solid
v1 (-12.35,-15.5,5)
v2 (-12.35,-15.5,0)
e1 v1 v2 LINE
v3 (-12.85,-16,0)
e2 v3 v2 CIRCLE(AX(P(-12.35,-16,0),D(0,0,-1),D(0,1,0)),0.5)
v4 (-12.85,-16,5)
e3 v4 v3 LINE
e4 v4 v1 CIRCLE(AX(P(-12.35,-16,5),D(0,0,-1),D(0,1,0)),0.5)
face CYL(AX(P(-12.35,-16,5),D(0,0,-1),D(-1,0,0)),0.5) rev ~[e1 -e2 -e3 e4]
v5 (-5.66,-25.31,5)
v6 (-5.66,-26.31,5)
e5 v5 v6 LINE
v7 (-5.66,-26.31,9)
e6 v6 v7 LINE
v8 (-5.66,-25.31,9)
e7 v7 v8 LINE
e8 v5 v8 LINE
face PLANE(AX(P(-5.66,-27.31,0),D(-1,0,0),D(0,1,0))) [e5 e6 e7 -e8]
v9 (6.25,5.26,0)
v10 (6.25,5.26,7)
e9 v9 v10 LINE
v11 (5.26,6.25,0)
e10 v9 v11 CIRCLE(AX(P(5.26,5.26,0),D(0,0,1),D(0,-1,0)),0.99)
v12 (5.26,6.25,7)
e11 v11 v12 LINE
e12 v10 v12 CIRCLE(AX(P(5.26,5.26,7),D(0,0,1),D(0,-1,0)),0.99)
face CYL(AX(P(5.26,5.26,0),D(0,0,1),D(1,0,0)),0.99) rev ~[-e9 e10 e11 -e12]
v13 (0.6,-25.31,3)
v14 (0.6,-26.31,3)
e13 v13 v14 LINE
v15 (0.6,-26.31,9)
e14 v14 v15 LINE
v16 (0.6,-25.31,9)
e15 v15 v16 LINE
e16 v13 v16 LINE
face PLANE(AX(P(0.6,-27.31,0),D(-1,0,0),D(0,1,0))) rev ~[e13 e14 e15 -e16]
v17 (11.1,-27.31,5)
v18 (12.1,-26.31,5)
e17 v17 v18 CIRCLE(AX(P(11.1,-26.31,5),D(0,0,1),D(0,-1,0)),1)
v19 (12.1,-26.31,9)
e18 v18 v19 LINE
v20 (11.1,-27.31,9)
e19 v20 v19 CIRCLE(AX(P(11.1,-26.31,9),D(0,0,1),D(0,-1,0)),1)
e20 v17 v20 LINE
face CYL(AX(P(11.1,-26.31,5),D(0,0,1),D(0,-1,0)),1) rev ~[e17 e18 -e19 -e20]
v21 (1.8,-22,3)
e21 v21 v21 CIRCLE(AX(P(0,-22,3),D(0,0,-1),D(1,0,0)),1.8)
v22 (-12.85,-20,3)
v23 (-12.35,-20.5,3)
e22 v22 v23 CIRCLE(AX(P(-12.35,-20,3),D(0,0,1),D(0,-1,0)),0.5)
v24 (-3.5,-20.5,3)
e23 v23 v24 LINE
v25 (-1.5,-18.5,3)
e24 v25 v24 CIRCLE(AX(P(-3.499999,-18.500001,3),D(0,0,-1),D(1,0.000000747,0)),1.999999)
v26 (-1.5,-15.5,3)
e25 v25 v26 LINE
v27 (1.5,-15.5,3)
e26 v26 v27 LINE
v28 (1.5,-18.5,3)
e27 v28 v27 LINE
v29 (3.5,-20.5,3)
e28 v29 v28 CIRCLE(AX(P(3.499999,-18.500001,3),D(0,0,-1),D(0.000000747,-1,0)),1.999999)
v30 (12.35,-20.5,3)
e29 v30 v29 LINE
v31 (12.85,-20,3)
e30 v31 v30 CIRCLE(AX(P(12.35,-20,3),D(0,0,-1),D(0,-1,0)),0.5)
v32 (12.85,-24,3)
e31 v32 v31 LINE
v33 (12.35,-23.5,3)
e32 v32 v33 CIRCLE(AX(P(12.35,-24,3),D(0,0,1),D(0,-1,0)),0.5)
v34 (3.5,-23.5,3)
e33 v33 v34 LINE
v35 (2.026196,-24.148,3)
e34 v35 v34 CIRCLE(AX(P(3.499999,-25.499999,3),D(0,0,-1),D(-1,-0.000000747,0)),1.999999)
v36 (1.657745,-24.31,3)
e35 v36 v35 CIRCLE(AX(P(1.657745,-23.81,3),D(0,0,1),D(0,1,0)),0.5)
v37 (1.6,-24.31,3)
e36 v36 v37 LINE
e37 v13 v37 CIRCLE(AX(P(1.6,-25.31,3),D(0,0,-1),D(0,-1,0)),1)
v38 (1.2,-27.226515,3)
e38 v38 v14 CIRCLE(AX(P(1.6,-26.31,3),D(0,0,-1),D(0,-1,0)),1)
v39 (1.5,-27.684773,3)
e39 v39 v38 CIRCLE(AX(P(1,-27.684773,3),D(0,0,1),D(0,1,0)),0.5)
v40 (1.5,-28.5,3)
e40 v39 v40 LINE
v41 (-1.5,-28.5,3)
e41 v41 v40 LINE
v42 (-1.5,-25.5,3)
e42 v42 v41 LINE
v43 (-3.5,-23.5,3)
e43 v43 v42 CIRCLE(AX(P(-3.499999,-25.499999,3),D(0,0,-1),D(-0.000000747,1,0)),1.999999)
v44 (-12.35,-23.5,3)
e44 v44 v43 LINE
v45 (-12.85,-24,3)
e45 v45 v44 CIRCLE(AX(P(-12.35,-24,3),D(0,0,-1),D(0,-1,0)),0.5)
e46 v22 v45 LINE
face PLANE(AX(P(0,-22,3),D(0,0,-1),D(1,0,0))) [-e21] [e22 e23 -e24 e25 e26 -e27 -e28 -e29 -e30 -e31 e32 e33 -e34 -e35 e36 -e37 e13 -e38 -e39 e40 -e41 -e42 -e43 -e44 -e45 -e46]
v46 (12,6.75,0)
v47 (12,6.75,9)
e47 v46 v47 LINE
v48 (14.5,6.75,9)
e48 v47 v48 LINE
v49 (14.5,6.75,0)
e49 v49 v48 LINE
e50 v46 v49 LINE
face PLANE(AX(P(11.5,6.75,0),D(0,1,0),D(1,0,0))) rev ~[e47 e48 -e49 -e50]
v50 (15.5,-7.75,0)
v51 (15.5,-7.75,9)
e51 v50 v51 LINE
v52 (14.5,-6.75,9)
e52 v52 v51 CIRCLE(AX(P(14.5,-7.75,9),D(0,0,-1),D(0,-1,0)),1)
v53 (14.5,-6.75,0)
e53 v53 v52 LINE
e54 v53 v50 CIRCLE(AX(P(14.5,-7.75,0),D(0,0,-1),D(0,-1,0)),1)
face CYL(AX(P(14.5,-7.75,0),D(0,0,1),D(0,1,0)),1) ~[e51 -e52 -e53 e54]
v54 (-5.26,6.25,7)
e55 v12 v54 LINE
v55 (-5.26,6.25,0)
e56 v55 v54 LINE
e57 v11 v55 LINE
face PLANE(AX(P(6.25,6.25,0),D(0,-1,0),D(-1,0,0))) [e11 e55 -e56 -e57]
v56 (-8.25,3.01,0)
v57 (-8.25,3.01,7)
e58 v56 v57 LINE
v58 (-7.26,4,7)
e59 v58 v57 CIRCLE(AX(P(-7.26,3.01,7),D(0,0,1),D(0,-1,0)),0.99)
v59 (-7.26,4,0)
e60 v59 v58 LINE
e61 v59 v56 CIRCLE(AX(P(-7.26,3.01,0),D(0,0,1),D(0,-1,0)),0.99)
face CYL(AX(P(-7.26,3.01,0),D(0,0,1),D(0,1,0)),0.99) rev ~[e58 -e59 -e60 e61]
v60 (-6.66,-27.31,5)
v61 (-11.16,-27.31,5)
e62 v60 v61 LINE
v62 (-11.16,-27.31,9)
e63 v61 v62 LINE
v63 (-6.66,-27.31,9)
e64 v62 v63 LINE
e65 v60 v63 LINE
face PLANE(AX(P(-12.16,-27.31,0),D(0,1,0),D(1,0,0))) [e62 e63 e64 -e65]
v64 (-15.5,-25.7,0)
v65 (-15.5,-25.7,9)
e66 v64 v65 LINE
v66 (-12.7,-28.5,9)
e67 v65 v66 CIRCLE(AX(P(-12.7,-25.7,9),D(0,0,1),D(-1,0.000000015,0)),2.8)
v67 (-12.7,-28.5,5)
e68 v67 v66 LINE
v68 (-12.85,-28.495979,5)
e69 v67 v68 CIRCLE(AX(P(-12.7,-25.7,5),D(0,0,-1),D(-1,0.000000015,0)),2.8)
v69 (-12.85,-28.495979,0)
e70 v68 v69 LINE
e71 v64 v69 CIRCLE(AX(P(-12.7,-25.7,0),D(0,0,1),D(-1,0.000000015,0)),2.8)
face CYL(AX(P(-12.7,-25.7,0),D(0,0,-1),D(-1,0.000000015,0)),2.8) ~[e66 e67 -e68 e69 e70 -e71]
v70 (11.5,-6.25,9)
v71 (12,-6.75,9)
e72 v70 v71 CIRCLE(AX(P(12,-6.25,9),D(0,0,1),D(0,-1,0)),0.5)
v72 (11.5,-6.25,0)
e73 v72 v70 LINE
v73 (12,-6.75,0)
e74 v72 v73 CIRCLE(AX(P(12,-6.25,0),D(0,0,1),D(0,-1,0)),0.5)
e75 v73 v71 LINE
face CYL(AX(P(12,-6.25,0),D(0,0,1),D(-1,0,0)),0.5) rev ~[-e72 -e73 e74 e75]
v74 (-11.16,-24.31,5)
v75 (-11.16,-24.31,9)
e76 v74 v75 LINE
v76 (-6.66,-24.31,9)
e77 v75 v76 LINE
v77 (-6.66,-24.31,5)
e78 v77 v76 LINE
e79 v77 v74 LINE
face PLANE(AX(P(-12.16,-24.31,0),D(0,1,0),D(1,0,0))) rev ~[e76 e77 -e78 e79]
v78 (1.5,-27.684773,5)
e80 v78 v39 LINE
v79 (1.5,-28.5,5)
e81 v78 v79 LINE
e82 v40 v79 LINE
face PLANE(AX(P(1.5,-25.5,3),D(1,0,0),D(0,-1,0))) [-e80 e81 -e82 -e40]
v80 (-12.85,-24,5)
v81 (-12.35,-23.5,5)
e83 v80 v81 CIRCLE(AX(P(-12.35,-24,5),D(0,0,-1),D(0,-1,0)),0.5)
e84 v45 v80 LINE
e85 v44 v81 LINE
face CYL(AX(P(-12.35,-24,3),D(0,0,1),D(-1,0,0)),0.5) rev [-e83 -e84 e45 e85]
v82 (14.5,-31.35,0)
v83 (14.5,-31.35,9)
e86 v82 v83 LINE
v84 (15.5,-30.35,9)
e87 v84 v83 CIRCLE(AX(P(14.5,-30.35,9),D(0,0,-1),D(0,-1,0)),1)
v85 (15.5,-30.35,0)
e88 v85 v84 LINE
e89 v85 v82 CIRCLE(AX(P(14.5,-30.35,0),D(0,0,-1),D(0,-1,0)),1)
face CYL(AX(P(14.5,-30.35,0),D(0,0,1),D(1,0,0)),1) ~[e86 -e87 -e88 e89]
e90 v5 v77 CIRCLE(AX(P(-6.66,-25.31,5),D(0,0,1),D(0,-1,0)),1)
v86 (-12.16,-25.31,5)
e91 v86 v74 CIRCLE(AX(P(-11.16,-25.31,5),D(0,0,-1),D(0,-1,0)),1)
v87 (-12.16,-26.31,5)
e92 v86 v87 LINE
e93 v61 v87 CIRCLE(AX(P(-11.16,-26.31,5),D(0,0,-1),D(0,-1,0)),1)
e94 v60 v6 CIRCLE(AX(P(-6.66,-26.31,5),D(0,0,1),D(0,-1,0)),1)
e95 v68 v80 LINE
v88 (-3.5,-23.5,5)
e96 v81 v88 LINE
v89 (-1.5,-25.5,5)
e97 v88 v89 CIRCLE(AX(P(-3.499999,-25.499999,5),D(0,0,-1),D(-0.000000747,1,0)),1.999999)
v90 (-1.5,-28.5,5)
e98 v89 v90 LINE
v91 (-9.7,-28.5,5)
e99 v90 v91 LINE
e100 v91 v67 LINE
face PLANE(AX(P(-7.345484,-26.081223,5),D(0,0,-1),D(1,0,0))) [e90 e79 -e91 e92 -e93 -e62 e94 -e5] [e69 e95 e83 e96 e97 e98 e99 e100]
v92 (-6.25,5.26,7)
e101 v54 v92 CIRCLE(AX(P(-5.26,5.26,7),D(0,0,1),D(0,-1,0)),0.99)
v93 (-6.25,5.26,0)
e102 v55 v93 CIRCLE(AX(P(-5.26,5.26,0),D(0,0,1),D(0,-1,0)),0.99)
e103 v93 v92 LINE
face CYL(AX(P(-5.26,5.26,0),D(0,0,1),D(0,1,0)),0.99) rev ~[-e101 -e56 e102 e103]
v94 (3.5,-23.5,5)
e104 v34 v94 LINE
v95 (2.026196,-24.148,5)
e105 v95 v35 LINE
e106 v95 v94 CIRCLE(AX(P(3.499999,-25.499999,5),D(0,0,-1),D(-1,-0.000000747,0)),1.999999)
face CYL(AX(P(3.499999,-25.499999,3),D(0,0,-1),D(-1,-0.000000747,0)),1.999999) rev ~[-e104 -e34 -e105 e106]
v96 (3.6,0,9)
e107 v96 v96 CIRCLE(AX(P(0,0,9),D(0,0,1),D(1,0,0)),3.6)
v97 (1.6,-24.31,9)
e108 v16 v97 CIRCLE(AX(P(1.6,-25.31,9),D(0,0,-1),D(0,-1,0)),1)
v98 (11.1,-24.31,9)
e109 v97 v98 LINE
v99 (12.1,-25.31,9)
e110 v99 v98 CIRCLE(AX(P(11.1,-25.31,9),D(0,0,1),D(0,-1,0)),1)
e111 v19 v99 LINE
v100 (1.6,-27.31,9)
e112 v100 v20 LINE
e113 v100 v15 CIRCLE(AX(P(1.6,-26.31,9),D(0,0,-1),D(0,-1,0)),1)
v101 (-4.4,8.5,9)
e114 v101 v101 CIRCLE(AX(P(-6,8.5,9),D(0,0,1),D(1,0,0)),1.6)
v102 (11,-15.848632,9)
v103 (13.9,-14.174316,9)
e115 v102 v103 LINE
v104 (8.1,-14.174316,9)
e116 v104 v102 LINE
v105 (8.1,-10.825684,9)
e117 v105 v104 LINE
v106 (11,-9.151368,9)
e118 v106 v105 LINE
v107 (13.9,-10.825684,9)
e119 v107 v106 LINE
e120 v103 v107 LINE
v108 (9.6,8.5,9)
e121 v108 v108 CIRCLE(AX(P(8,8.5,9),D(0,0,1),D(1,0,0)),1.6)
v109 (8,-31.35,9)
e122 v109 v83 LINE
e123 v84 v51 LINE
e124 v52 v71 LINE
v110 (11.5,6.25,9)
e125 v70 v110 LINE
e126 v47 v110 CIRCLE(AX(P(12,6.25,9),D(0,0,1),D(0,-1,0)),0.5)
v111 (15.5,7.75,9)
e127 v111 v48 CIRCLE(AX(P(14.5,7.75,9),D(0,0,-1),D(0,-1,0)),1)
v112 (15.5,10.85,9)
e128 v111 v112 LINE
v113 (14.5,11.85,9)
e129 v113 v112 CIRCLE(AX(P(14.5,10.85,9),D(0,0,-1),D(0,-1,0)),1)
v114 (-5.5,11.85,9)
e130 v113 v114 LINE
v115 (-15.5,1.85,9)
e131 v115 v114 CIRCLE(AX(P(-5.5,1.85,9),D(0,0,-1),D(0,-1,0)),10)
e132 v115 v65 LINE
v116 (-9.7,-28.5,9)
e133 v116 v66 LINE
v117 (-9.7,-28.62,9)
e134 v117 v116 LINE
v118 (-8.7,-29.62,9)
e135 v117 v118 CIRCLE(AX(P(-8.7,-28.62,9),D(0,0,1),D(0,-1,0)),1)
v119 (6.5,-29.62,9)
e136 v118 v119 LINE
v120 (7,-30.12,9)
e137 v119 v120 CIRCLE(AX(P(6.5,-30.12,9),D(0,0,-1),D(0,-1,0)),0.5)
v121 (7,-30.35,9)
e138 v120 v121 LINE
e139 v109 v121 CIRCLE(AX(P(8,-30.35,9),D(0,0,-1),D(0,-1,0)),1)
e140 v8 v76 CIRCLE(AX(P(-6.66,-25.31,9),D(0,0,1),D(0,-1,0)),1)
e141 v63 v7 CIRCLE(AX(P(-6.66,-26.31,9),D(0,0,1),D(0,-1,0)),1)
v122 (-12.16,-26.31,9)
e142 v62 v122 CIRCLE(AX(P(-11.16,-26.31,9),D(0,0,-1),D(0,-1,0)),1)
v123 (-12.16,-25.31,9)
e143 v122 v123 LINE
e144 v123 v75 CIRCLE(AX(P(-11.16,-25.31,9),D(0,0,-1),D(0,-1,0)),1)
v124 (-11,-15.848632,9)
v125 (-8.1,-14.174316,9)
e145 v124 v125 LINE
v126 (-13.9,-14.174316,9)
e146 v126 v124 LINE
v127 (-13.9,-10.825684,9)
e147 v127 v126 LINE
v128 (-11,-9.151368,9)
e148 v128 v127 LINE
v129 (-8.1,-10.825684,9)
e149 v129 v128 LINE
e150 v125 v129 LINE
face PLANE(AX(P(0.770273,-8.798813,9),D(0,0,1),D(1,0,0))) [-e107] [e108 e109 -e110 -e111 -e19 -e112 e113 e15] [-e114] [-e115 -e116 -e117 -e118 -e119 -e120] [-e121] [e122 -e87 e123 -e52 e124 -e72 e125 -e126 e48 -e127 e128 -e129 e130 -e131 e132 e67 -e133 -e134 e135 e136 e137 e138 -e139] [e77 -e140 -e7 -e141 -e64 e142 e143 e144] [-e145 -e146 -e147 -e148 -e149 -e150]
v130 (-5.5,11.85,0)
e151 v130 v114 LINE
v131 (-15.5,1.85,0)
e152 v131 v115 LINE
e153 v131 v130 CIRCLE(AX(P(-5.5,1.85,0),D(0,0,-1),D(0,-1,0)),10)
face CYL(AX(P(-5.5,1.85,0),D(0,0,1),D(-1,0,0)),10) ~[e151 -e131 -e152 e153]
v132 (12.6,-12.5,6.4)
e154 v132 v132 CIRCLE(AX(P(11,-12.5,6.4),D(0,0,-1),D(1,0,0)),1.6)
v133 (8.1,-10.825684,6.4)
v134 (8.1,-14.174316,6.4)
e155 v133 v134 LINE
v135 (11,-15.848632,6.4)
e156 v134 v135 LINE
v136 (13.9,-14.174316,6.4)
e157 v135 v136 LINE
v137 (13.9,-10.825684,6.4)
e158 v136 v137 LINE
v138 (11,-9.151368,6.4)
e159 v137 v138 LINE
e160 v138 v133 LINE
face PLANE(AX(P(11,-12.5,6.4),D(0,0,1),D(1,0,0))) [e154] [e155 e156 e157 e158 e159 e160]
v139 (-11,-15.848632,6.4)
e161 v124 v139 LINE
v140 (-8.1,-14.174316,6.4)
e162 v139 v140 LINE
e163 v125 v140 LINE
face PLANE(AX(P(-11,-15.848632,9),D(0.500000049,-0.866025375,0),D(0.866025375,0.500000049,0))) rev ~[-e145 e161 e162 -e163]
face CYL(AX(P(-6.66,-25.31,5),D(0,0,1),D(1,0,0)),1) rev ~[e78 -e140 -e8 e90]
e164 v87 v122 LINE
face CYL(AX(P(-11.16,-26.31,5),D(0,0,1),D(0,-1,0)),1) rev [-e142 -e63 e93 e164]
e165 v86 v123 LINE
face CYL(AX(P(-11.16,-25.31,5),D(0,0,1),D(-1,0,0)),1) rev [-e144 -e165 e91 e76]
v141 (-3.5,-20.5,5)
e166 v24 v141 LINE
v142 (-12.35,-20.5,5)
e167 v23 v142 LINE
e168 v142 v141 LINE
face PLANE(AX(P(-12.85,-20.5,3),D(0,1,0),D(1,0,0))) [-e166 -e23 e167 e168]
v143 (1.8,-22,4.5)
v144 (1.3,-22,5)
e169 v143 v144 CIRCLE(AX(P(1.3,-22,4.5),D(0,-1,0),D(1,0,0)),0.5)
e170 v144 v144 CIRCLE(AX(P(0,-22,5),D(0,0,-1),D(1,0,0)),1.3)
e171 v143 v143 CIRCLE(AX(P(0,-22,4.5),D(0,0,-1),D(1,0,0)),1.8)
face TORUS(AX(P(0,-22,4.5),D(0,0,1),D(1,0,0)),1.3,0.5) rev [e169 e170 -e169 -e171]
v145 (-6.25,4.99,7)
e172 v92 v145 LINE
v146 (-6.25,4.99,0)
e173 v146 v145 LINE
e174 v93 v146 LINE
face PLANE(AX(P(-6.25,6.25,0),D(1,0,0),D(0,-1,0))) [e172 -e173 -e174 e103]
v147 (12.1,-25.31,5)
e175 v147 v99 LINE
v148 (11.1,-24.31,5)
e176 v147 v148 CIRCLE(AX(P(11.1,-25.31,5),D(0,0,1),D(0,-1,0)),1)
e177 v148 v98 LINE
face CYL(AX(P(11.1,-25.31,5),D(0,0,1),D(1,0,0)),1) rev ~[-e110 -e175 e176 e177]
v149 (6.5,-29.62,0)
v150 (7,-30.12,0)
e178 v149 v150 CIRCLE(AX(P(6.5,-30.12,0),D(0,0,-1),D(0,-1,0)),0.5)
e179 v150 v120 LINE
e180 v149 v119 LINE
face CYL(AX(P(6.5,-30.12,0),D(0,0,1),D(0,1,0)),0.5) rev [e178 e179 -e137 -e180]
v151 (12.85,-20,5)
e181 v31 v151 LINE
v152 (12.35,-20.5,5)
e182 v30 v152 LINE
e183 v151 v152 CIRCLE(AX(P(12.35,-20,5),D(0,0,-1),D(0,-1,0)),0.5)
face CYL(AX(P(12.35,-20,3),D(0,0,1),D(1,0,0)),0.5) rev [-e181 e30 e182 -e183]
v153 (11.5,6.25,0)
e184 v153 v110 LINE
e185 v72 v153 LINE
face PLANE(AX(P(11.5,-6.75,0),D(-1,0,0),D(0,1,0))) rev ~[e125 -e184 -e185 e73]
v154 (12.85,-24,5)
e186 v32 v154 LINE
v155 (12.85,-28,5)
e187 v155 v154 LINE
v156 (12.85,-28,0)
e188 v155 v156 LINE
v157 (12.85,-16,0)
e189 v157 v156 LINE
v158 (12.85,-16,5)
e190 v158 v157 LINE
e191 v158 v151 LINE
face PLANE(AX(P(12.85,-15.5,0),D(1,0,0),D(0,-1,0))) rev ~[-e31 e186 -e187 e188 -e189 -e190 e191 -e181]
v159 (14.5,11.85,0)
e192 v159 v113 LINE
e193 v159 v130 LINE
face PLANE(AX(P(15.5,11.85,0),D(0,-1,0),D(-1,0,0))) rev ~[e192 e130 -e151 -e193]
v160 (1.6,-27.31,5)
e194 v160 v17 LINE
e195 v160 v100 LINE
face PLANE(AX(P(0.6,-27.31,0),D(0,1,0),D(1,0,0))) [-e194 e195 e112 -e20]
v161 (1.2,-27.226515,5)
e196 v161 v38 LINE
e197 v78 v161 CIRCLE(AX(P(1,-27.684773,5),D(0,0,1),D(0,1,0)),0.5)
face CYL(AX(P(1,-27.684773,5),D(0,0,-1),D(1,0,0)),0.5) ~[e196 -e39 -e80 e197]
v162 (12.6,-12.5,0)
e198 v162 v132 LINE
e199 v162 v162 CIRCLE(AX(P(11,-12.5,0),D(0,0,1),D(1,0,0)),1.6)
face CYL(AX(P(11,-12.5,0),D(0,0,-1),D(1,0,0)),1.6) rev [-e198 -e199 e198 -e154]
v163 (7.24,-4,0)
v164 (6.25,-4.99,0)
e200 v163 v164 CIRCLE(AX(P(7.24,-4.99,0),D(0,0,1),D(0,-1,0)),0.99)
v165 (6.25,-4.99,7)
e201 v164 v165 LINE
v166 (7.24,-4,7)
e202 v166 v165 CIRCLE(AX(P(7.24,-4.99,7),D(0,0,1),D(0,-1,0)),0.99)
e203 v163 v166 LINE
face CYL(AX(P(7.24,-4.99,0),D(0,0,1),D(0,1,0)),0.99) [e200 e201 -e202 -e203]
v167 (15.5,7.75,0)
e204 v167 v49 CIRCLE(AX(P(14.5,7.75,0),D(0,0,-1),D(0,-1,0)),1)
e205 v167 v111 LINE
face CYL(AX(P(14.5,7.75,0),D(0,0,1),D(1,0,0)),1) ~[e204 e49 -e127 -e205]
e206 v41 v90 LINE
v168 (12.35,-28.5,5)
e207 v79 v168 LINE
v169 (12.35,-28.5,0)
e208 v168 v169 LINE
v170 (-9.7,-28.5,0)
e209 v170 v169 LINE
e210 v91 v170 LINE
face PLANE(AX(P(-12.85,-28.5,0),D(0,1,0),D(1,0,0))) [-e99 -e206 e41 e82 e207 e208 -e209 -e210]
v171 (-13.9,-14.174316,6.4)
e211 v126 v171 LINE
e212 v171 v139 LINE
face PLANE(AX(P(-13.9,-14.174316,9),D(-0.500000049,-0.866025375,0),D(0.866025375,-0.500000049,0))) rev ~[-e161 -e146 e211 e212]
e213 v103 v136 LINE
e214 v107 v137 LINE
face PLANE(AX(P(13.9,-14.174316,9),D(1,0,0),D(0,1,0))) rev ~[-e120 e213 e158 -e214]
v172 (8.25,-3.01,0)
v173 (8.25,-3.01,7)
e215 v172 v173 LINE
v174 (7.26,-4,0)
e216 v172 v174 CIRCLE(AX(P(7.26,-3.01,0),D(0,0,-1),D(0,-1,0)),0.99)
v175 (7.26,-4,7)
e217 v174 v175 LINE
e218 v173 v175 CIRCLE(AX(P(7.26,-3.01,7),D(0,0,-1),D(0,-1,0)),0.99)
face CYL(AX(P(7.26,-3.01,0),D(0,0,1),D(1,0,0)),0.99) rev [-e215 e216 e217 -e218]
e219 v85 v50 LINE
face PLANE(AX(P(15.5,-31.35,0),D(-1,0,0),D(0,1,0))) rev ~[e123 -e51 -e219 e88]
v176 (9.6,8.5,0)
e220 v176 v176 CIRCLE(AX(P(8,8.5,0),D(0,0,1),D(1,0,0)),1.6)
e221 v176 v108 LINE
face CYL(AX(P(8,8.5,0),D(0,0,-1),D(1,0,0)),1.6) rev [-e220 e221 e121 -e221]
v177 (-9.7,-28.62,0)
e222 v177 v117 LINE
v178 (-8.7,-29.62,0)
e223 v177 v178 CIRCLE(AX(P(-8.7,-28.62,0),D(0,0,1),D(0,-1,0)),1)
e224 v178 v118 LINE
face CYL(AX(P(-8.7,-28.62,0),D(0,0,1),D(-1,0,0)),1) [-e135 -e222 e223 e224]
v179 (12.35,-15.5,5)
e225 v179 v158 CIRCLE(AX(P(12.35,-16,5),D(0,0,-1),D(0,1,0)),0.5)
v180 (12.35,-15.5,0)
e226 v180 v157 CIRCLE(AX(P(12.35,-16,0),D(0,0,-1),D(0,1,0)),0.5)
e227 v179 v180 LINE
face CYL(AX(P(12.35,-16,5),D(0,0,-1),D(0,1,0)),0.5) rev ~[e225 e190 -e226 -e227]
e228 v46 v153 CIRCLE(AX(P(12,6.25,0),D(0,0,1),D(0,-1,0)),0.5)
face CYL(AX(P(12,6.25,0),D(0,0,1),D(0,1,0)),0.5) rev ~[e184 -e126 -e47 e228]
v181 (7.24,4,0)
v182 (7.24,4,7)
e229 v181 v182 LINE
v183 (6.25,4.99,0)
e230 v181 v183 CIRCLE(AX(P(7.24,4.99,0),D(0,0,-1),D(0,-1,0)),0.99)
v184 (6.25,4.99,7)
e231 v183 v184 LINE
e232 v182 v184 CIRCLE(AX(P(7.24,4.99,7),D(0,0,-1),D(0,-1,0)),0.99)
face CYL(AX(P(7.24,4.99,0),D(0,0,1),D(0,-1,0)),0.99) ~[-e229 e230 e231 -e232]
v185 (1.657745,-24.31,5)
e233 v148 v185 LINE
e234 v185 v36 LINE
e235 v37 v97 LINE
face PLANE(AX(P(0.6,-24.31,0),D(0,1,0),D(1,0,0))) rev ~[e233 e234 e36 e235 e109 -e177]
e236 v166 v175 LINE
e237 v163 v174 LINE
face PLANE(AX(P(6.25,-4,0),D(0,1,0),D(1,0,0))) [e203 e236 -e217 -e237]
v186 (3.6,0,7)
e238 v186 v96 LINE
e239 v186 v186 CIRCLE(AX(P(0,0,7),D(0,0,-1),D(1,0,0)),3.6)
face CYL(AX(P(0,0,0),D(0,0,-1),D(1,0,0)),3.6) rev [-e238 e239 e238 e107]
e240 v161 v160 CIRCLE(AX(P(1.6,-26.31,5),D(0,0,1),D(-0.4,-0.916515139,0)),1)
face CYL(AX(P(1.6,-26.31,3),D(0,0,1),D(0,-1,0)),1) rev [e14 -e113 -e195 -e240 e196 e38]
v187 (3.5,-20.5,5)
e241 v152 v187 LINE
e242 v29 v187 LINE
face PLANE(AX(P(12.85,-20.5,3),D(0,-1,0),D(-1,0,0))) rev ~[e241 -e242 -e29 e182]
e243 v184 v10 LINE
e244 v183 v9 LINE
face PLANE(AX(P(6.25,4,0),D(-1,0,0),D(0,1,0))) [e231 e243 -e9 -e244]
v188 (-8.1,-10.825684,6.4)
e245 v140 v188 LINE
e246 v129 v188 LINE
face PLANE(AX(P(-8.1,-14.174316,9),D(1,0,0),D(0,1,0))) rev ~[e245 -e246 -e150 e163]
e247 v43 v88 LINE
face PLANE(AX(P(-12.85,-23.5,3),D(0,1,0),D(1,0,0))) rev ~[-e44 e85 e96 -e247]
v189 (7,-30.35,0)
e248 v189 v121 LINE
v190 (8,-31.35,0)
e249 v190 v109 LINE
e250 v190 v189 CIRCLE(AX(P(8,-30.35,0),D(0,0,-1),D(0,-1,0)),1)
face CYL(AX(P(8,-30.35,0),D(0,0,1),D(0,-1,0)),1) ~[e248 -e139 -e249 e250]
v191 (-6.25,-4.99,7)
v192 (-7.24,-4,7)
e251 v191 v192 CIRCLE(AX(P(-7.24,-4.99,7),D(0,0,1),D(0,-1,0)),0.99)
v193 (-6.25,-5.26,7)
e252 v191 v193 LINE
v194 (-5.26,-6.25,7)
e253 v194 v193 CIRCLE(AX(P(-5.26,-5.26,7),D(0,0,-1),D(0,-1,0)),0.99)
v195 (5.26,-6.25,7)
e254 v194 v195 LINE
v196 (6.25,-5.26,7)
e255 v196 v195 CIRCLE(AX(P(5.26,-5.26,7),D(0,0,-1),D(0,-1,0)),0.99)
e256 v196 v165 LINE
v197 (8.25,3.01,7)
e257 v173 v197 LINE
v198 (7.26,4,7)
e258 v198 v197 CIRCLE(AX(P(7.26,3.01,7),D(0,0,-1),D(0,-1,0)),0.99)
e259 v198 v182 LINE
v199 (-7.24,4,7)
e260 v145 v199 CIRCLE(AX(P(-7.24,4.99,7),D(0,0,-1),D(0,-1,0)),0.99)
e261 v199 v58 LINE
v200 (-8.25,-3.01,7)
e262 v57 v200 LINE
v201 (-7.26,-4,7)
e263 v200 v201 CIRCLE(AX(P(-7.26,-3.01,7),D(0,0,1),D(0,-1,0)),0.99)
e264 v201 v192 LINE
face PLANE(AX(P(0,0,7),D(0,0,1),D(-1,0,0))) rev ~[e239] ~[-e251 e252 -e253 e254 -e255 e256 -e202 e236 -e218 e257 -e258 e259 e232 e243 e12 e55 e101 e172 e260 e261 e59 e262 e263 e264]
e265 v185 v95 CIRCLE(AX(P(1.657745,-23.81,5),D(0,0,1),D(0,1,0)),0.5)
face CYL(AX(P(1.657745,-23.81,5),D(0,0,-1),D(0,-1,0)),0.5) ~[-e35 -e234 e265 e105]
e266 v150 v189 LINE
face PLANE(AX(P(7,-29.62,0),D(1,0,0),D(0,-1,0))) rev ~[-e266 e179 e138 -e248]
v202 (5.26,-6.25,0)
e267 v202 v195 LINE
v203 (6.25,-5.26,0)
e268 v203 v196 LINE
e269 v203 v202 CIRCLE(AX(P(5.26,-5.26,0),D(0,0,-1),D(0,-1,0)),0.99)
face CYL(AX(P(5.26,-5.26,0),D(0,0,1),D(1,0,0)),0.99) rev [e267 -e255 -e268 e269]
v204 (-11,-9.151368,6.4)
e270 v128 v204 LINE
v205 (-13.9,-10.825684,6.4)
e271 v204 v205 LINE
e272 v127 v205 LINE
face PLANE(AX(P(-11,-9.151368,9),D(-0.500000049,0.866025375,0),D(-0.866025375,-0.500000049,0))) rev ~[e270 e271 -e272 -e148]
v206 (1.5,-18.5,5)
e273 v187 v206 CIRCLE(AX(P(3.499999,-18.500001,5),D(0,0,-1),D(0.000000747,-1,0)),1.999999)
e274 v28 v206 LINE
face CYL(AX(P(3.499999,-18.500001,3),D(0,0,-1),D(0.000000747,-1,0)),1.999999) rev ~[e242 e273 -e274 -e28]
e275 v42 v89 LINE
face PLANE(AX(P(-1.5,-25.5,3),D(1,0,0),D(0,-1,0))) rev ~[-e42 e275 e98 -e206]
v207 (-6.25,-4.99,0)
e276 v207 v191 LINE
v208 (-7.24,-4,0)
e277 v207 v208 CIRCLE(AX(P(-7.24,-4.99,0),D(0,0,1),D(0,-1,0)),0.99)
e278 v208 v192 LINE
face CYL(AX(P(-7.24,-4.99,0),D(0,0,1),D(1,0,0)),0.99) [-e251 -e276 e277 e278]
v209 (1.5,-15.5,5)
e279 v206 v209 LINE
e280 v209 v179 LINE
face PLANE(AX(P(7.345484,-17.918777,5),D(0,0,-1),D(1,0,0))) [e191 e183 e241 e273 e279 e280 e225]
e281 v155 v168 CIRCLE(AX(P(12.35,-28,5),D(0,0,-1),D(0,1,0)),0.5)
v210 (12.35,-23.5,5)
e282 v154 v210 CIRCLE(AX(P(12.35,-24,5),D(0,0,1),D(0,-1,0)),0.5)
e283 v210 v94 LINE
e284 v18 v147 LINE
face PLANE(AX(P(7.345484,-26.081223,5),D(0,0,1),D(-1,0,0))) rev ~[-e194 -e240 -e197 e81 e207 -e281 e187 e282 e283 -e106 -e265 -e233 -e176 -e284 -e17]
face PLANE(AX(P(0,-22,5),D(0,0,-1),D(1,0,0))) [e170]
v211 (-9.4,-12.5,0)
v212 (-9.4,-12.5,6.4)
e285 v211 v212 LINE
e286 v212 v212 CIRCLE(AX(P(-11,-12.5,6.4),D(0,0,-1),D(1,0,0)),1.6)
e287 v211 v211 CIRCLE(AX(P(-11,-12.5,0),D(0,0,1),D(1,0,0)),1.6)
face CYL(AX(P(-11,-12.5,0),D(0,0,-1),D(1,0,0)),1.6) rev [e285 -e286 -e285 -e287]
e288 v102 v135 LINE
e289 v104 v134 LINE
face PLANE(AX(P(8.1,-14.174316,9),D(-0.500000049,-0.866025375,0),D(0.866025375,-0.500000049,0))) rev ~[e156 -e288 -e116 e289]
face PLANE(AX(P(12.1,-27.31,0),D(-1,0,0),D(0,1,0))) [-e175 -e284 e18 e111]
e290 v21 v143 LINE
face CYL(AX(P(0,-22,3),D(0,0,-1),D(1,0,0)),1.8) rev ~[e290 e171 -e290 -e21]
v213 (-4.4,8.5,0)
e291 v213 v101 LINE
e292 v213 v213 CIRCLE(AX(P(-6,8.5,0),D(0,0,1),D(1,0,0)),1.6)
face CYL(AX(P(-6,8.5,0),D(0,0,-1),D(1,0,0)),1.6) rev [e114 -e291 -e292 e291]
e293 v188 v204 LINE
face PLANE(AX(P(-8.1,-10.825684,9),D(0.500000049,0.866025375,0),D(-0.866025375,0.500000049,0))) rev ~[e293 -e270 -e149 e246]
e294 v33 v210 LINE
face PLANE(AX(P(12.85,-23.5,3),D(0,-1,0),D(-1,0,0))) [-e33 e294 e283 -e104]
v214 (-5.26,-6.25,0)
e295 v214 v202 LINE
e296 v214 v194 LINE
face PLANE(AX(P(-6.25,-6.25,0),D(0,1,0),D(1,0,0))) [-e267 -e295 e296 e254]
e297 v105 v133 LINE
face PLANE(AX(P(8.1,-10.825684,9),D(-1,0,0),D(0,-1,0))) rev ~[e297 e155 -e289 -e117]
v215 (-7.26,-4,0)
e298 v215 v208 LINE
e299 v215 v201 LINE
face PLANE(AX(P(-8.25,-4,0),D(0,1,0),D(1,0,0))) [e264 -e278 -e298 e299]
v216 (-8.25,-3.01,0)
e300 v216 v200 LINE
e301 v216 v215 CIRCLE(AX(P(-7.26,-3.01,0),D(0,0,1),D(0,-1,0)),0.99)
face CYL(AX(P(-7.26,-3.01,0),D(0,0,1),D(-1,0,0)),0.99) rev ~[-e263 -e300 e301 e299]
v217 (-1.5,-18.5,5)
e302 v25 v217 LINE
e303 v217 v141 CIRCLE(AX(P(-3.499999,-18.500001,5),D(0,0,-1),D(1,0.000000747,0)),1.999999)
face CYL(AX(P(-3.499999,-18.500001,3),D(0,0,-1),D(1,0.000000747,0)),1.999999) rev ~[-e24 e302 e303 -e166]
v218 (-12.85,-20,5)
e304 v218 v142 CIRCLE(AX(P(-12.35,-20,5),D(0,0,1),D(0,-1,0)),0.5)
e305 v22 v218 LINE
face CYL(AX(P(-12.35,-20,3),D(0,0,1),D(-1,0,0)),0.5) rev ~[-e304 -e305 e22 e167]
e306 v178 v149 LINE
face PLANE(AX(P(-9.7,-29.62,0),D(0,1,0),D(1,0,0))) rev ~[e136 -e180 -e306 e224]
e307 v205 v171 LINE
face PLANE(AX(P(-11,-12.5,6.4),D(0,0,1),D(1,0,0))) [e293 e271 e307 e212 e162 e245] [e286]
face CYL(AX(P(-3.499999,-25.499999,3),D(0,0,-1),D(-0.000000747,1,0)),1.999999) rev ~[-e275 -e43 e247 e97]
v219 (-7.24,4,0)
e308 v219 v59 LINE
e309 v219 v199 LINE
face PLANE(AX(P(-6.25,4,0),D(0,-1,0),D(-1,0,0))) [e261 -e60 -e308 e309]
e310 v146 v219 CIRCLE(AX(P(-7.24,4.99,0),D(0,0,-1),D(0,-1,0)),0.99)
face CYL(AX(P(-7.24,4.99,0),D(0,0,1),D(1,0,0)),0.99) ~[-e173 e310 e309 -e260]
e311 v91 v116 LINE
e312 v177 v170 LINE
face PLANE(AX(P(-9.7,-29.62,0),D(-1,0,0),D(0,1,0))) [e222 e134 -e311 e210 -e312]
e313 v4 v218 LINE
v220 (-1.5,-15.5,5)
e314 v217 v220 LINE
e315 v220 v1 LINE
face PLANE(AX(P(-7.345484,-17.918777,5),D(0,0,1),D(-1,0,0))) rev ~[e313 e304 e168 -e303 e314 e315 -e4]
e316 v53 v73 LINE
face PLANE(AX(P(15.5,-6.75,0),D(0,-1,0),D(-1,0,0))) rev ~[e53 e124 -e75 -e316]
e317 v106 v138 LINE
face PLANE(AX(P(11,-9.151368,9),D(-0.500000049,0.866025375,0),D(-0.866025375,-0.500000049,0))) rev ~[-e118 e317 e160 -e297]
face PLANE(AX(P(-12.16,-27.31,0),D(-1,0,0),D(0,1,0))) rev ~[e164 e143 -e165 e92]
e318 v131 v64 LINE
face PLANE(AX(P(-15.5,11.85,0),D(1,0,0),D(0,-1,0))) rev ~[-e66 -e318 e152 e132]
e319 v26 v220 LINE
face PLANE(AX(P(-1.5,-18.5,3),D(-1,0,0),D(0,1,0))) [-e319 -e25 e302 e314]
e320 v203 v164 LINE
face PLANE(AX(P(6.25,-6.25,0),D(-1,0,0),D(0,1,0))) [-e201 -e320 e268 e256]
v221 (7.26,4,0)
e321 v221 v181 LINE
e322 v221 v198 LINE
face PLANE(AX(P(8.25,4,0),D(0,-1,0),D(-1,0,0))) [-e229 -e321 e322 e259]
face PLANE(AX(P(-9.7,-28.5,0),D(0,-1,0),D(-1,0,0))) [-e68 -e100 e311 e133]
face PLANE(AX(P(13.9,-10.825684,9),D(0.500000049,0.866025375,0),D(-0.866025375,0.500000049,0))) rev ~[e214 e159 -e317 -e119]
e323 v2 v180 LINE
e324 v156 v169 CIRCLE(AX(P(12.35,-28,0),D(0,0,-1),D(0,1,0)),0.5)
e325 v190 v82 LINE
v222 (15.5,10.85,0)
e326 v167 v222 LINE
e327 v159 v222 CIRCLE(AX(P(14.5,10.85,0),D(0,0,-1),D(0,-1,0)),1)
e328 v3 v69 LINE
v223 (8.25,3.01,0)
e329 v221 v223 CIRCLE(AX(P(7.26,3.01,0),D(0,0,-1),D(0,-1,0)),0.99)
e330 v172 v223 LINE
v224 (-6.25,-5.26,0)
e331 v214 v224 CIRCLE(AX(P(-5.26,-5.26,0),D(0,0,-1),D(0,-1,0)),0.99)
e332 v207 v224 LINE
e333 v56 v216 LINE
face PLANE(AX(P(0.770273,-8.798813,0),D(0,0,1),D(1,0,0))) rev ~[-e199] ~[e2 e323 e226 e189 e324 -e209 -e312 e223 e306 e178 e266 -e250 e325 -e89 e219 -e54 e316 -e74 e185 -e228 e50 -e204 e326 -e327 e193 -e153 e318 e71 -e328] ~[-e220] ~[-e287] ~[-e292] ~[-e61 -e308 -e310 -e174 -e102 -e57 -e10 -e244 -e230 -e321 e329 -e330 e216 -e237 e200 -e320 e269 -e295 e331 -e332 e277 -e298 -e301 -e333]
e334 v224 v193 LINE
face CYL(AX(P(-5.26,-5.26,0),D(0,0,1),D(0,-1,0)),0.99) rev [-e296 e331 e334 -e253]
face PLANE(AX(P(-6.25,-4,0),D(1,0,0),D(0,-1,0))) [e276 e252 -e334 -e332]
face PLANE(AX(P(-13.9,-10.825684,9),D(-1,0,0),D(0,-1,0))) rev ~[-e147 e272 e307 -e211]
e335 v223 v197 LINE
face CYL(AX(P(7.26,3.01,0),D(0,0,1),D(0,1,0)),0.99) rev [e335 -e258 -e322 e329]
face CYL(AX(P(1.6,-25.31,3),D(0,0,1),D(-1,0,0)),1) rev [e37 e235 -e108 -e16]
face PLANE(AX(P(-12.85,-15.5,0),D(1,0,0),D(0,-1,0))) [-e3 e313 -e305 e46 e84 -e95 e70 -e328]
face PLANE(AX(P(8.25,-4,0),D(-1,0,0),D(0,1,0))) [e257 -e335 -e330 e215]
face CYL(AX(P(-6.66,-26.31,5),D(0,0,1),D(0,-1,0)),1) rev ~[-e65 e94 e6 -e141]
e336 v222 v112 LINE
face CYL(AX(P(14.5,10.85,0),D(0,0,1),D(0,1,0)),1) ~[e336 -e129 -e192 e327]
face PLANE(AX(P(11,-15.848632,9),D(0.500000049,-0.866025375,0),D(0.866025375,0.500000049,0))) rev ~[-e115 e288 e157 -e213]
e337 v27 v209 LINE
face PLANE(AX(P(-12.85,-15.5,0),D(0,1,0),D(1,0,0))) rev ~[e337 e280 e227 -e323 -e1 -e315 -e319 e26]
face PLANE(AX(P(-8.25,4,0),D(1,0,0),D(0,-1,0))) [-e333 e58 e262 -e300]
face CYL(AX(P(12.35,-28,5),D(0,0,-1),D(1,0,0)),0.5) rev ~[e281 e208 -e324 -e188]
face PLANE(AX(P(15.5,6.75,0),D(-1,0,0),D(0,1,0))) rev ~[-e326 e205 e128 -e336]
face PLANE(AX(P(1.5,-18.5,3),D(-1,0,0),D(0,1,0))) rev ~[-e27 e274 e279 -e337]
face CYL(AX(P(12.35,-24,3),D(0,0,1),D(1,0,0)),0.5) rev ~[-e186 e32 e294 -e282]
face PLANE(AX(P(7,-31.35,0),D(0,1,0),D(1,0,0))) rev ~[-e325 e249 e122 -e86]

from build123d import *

# Parameters (mm, degrees)
SKETCH_R        = 3.6
SKETCH_R_2      = 1.6
SKETCH_W        = 6.5
SKETCH_H        = 3
SKETCH_W_2      = 11.5
PAD_DEPTH       = 9
POCKET_DEPTH    = 2.6
POCKET001_DEPTH = 7
SKETCH003_W     = 25.7
SKETCH003_H     = 13
POCKET002_DEPTH = 3
SKETCH004_R     = 1.8
POCKET003_DEPTH = 2
FILLET_R        = 10
FILLET001_R     = 0.99
FILLET002_R     = 1
FILLET003_R     = 0.5


with BuildPart() as part:
    # Sketch → Pad (new body)
    with BuildSketch(Plane.XY):
        with BuildLine():
            Line((15.5, -31.35), (15.5, -6.75))
            Line((15.5, -6.75), (11.5, -6.75))
            Line((11.5, -6.75), (11.5, 6.75))
            Line((11.5, 6.75), (15.5, 6.75))
            Line((15.5, 6.75), (15.5, 11.85))
            Line((15.5, 11.85), (-15.5, 11.85))
            Line((-15.5, 11.85), (-15.5, -25.7))
            ThreePointArc((-15.5, -25.7), (-14.679899, -27.679899), (-12.7, -28.5))
            Line((-9.7, -28.5), (-12.7, -28.5))
            Line((-9.7, -29.62), (-9.7, -28.5))
            Line((-9.7, -29.62), (7, -29.62))
            Line((7, -29.62), (7, -31.35))
            Line((7, -31.35), (15.5, -31.35))
        make_face()
        Circle(SKETCH_R, mode=Mode.SUBTRACT)
        with Locations((-11, -12.5)):
            Circle(SKETCH_R_2, mode=Mode.SUBTRACT)
        with Locations((11, -12.5)):
            Circle(SKETCH_R_2, mode=Mode.SUBTRACT)
        with Locations((-6, 8.5)):
            Circle(SKETCH_R_2, mode=Mode.SUBTRACT)
        with Locations((8, 8.5)):
            Circle(SKETCH_R_2, mode=Mode.SUBTRACT)
        with Locations((-8.91, -25.81)):
            Rectangle(SKETCH_W, SKETCH_H, mode=Mode.SUBTRACT)
        with Locations((6.35, -25.81)):
            Rectangle(SKETCH_W_2, SKETCH_H, mode=Mode.SUBTRACT)
    extrude(amount=PAD_DEPTH)

    # Sketch001 (on Face28 of Pad) → Pocket (cut)
    with BuildSketch(Plane.XY.offset(9)):
        Polygon((-8.1, -14.174316), (-8.1, -10.825684), (-11, -9.151368), (-13.9, -10.825684), (-13.9, -14.174316), (-11, -15.848632), align=None)
        Polygon((13.9, -14.174316), (13.9, -10.825684), (11, -9.151368), (8.1, -10.825684), (8.1, -14.174316), (11, -15.848632), align=None)
    extrude(amount=-POCKET_DEPTH, mode=Mode.SUBTRACT)

    # Sketch002 → Pocket001 (cut)
    with BuildSketch(Plane(origin=(0, 0, 0), x_dir=(1, 0, 0), z_dir=(0, 0, -1))):
        Polygon((8.25, -4), (6.25, -4), (6.25, -6.25), (-6.25, -6.25), (-6.25, -4), (-8.25, -4), (-8.25, 4), (-6.25, 4), (-6.25, 6.25), (6.25, 6.25), (6.25, 4), (8.25, 4), align=None)
    extrude(amount=-POCKET001_DEPTH, mode=Mode.SUBTRACT)

    # Sketch003 → Pocket002 (cut)
    with BuildSketch(Plane(origin=(0, 0, 0), x_dir=(1, 0, 0), z_dir=(0, 0, -1))):
        with Locations((0, 22)):
            Rectangle(SKETCH003_W, SKETCH003_H)
    extrude(amount=-POCKET002_DEPTH, mode=Mode.SUBTRACT)

    # Sketch004 (on Face57 of Pocket002) → Pocket003 (cut)
    with BuildSketch(Plane(origin=(0, 0, 3), x_dir=(1, 0, 0), z_dir=(0, 0, -1))):
        with Locations((0, 22)):
            Circle(SKETCH004_R)
        with BuildLine():
            Line((1.5, 15.5), (12.85, 15.5))
            Line((12.85, 15.5), (12.85, 20.5))
            Line((12.85, 20.5), (3.5, 20.5))
            ThreePointArc((3.5, 20.5), (2.085786, 19.914214), (1.5, 18.5))
            Line((1.5, 18.5), (1.5, 15.5))
        make_face()
        with BuildLine():
            Line((-1.5, 15.5), (-12.85, 15.5))
            Line((-12.85, 15.5), (-12.85, 20.5))
            Line((-12.85, 20.5), (-3.5, 20.5))
            ThreePointArc((-1.5, 18.5), (-2.085786, 19.914214), (-3.5, 20.5))
            Line((-1.5, 18.5), (-1.5, 15.5))
        make_face()
        with BuildLine():
            Line((12.85, 23.5), (3.5, 23.5))
            ThreePointArc((1.5, 25.5), (2.085786, 24.085786), (3.5, 23.5))
            Line((1.5, 25.5), (1.5, 28.5))
            Line((1.5, 28.5), (12.85, 28.5))
            Line((12.85, 28.5), (12.85, 23.5))
        make_face()
        with BuildLine():
            Line((-12.85, 23.5), (-3.5, 23.5))
            ThreePointArc((-3.5, 23.5), (-2.085786, 24.085786), (-1.5, 25.5))
            Line((-1.5, 25.5), (-1.5, 28.5))
            Line((-1.5, 28.5), (-12.85, 28.5))
            Line((-12.85, 28.5), (-12.85, 23.5))
        make_face()
    extrude(amount=-POCKET003_DEPTH, mode=Mode.SUBTRACT)

    # Fillet
    fillet_edges = [part.edges().sort_by_distance(p)[0] for p in [
        (-15.5, 11.85, 4.5),
    ]]
    fillet(fillet_edges, radius=FILLET_R)

    # Fillet001
    fillet001_edges = [part.edges().sort_by_distance(p)[0] for p in [
        (6.25, -4, 3.5),
        (6.25, -6.25, 3.5),
        (8.25, -4, 3.5),
        (8.25, 4, 3.5),
        (6.25, 4, 3.5),
        (6.25, 6.25, 3.5),
        (-6.25, 6.25, 3.5),
        (-6.25, 4, 3.5),
        (-8.25, 4, 3.5),
        (-8.25, -4, 3.5),
        (-6.25, -4, 3.5),
        (-6.25, -6.25, 3.5),
    ]]
    fillet(fillet001_edges, radius=FILLET001_R)

    # Fillet002
    fillet002_edges = [part.edges().sort_by_distance(p)[0] for p in [
        (15.5, 11.85, 4.5),
        (15.5, -6.75, 4.5),
        (15.5, 6.75, 4.5),
        (15.5, -31.35, 4.5),
        (7, -31.35, 4.5),
        (-9.7, -29.62, 4.5),
        (0.6, -27.31, 6),
        (-12.16, -27.31, 7),
        (-5.66, -27.31, 7),
        (12.1, -27.31, 7),
        (-12.16, -24.31, 7),
        (-5.66, -24.31, 7),
        (12.1, -24.31, 7),
        (0.6, -24.31, 6),
    ]]
    fillet(fillet002_edges, radius=FILLET002_R)

    # Fillet003
    fillet003_edges = [part.edges().sort_by_distance(p)[0] for p in [
        (11.5, 6.75, 4.5),
        (11.5, -6.75, 4.5),
        (7, -29.62, 4.5),
        (12.85, -15.5, 1.5),
        (12.85, -15.5, 4),
        (12.85, -23.5, 4),
        (12.85, -20.5, 4),
        (12.85, -28.5, 1.5),
        (12.85, -28.5, 4),
        (-12.85, -15.5, 1.5),
        (-12.85, -15.5, 4),
        (-12.85, -23.5, 4),
        (-12.85, -20.5, 4),
        (1.5, -27.304987, 4),
        (1.892549, -24.31, 4),
        (-1.8, -22, 5),
    ]]
    fillet(fillet003_edges, radius=FILLET003_R)


solid = part.part
